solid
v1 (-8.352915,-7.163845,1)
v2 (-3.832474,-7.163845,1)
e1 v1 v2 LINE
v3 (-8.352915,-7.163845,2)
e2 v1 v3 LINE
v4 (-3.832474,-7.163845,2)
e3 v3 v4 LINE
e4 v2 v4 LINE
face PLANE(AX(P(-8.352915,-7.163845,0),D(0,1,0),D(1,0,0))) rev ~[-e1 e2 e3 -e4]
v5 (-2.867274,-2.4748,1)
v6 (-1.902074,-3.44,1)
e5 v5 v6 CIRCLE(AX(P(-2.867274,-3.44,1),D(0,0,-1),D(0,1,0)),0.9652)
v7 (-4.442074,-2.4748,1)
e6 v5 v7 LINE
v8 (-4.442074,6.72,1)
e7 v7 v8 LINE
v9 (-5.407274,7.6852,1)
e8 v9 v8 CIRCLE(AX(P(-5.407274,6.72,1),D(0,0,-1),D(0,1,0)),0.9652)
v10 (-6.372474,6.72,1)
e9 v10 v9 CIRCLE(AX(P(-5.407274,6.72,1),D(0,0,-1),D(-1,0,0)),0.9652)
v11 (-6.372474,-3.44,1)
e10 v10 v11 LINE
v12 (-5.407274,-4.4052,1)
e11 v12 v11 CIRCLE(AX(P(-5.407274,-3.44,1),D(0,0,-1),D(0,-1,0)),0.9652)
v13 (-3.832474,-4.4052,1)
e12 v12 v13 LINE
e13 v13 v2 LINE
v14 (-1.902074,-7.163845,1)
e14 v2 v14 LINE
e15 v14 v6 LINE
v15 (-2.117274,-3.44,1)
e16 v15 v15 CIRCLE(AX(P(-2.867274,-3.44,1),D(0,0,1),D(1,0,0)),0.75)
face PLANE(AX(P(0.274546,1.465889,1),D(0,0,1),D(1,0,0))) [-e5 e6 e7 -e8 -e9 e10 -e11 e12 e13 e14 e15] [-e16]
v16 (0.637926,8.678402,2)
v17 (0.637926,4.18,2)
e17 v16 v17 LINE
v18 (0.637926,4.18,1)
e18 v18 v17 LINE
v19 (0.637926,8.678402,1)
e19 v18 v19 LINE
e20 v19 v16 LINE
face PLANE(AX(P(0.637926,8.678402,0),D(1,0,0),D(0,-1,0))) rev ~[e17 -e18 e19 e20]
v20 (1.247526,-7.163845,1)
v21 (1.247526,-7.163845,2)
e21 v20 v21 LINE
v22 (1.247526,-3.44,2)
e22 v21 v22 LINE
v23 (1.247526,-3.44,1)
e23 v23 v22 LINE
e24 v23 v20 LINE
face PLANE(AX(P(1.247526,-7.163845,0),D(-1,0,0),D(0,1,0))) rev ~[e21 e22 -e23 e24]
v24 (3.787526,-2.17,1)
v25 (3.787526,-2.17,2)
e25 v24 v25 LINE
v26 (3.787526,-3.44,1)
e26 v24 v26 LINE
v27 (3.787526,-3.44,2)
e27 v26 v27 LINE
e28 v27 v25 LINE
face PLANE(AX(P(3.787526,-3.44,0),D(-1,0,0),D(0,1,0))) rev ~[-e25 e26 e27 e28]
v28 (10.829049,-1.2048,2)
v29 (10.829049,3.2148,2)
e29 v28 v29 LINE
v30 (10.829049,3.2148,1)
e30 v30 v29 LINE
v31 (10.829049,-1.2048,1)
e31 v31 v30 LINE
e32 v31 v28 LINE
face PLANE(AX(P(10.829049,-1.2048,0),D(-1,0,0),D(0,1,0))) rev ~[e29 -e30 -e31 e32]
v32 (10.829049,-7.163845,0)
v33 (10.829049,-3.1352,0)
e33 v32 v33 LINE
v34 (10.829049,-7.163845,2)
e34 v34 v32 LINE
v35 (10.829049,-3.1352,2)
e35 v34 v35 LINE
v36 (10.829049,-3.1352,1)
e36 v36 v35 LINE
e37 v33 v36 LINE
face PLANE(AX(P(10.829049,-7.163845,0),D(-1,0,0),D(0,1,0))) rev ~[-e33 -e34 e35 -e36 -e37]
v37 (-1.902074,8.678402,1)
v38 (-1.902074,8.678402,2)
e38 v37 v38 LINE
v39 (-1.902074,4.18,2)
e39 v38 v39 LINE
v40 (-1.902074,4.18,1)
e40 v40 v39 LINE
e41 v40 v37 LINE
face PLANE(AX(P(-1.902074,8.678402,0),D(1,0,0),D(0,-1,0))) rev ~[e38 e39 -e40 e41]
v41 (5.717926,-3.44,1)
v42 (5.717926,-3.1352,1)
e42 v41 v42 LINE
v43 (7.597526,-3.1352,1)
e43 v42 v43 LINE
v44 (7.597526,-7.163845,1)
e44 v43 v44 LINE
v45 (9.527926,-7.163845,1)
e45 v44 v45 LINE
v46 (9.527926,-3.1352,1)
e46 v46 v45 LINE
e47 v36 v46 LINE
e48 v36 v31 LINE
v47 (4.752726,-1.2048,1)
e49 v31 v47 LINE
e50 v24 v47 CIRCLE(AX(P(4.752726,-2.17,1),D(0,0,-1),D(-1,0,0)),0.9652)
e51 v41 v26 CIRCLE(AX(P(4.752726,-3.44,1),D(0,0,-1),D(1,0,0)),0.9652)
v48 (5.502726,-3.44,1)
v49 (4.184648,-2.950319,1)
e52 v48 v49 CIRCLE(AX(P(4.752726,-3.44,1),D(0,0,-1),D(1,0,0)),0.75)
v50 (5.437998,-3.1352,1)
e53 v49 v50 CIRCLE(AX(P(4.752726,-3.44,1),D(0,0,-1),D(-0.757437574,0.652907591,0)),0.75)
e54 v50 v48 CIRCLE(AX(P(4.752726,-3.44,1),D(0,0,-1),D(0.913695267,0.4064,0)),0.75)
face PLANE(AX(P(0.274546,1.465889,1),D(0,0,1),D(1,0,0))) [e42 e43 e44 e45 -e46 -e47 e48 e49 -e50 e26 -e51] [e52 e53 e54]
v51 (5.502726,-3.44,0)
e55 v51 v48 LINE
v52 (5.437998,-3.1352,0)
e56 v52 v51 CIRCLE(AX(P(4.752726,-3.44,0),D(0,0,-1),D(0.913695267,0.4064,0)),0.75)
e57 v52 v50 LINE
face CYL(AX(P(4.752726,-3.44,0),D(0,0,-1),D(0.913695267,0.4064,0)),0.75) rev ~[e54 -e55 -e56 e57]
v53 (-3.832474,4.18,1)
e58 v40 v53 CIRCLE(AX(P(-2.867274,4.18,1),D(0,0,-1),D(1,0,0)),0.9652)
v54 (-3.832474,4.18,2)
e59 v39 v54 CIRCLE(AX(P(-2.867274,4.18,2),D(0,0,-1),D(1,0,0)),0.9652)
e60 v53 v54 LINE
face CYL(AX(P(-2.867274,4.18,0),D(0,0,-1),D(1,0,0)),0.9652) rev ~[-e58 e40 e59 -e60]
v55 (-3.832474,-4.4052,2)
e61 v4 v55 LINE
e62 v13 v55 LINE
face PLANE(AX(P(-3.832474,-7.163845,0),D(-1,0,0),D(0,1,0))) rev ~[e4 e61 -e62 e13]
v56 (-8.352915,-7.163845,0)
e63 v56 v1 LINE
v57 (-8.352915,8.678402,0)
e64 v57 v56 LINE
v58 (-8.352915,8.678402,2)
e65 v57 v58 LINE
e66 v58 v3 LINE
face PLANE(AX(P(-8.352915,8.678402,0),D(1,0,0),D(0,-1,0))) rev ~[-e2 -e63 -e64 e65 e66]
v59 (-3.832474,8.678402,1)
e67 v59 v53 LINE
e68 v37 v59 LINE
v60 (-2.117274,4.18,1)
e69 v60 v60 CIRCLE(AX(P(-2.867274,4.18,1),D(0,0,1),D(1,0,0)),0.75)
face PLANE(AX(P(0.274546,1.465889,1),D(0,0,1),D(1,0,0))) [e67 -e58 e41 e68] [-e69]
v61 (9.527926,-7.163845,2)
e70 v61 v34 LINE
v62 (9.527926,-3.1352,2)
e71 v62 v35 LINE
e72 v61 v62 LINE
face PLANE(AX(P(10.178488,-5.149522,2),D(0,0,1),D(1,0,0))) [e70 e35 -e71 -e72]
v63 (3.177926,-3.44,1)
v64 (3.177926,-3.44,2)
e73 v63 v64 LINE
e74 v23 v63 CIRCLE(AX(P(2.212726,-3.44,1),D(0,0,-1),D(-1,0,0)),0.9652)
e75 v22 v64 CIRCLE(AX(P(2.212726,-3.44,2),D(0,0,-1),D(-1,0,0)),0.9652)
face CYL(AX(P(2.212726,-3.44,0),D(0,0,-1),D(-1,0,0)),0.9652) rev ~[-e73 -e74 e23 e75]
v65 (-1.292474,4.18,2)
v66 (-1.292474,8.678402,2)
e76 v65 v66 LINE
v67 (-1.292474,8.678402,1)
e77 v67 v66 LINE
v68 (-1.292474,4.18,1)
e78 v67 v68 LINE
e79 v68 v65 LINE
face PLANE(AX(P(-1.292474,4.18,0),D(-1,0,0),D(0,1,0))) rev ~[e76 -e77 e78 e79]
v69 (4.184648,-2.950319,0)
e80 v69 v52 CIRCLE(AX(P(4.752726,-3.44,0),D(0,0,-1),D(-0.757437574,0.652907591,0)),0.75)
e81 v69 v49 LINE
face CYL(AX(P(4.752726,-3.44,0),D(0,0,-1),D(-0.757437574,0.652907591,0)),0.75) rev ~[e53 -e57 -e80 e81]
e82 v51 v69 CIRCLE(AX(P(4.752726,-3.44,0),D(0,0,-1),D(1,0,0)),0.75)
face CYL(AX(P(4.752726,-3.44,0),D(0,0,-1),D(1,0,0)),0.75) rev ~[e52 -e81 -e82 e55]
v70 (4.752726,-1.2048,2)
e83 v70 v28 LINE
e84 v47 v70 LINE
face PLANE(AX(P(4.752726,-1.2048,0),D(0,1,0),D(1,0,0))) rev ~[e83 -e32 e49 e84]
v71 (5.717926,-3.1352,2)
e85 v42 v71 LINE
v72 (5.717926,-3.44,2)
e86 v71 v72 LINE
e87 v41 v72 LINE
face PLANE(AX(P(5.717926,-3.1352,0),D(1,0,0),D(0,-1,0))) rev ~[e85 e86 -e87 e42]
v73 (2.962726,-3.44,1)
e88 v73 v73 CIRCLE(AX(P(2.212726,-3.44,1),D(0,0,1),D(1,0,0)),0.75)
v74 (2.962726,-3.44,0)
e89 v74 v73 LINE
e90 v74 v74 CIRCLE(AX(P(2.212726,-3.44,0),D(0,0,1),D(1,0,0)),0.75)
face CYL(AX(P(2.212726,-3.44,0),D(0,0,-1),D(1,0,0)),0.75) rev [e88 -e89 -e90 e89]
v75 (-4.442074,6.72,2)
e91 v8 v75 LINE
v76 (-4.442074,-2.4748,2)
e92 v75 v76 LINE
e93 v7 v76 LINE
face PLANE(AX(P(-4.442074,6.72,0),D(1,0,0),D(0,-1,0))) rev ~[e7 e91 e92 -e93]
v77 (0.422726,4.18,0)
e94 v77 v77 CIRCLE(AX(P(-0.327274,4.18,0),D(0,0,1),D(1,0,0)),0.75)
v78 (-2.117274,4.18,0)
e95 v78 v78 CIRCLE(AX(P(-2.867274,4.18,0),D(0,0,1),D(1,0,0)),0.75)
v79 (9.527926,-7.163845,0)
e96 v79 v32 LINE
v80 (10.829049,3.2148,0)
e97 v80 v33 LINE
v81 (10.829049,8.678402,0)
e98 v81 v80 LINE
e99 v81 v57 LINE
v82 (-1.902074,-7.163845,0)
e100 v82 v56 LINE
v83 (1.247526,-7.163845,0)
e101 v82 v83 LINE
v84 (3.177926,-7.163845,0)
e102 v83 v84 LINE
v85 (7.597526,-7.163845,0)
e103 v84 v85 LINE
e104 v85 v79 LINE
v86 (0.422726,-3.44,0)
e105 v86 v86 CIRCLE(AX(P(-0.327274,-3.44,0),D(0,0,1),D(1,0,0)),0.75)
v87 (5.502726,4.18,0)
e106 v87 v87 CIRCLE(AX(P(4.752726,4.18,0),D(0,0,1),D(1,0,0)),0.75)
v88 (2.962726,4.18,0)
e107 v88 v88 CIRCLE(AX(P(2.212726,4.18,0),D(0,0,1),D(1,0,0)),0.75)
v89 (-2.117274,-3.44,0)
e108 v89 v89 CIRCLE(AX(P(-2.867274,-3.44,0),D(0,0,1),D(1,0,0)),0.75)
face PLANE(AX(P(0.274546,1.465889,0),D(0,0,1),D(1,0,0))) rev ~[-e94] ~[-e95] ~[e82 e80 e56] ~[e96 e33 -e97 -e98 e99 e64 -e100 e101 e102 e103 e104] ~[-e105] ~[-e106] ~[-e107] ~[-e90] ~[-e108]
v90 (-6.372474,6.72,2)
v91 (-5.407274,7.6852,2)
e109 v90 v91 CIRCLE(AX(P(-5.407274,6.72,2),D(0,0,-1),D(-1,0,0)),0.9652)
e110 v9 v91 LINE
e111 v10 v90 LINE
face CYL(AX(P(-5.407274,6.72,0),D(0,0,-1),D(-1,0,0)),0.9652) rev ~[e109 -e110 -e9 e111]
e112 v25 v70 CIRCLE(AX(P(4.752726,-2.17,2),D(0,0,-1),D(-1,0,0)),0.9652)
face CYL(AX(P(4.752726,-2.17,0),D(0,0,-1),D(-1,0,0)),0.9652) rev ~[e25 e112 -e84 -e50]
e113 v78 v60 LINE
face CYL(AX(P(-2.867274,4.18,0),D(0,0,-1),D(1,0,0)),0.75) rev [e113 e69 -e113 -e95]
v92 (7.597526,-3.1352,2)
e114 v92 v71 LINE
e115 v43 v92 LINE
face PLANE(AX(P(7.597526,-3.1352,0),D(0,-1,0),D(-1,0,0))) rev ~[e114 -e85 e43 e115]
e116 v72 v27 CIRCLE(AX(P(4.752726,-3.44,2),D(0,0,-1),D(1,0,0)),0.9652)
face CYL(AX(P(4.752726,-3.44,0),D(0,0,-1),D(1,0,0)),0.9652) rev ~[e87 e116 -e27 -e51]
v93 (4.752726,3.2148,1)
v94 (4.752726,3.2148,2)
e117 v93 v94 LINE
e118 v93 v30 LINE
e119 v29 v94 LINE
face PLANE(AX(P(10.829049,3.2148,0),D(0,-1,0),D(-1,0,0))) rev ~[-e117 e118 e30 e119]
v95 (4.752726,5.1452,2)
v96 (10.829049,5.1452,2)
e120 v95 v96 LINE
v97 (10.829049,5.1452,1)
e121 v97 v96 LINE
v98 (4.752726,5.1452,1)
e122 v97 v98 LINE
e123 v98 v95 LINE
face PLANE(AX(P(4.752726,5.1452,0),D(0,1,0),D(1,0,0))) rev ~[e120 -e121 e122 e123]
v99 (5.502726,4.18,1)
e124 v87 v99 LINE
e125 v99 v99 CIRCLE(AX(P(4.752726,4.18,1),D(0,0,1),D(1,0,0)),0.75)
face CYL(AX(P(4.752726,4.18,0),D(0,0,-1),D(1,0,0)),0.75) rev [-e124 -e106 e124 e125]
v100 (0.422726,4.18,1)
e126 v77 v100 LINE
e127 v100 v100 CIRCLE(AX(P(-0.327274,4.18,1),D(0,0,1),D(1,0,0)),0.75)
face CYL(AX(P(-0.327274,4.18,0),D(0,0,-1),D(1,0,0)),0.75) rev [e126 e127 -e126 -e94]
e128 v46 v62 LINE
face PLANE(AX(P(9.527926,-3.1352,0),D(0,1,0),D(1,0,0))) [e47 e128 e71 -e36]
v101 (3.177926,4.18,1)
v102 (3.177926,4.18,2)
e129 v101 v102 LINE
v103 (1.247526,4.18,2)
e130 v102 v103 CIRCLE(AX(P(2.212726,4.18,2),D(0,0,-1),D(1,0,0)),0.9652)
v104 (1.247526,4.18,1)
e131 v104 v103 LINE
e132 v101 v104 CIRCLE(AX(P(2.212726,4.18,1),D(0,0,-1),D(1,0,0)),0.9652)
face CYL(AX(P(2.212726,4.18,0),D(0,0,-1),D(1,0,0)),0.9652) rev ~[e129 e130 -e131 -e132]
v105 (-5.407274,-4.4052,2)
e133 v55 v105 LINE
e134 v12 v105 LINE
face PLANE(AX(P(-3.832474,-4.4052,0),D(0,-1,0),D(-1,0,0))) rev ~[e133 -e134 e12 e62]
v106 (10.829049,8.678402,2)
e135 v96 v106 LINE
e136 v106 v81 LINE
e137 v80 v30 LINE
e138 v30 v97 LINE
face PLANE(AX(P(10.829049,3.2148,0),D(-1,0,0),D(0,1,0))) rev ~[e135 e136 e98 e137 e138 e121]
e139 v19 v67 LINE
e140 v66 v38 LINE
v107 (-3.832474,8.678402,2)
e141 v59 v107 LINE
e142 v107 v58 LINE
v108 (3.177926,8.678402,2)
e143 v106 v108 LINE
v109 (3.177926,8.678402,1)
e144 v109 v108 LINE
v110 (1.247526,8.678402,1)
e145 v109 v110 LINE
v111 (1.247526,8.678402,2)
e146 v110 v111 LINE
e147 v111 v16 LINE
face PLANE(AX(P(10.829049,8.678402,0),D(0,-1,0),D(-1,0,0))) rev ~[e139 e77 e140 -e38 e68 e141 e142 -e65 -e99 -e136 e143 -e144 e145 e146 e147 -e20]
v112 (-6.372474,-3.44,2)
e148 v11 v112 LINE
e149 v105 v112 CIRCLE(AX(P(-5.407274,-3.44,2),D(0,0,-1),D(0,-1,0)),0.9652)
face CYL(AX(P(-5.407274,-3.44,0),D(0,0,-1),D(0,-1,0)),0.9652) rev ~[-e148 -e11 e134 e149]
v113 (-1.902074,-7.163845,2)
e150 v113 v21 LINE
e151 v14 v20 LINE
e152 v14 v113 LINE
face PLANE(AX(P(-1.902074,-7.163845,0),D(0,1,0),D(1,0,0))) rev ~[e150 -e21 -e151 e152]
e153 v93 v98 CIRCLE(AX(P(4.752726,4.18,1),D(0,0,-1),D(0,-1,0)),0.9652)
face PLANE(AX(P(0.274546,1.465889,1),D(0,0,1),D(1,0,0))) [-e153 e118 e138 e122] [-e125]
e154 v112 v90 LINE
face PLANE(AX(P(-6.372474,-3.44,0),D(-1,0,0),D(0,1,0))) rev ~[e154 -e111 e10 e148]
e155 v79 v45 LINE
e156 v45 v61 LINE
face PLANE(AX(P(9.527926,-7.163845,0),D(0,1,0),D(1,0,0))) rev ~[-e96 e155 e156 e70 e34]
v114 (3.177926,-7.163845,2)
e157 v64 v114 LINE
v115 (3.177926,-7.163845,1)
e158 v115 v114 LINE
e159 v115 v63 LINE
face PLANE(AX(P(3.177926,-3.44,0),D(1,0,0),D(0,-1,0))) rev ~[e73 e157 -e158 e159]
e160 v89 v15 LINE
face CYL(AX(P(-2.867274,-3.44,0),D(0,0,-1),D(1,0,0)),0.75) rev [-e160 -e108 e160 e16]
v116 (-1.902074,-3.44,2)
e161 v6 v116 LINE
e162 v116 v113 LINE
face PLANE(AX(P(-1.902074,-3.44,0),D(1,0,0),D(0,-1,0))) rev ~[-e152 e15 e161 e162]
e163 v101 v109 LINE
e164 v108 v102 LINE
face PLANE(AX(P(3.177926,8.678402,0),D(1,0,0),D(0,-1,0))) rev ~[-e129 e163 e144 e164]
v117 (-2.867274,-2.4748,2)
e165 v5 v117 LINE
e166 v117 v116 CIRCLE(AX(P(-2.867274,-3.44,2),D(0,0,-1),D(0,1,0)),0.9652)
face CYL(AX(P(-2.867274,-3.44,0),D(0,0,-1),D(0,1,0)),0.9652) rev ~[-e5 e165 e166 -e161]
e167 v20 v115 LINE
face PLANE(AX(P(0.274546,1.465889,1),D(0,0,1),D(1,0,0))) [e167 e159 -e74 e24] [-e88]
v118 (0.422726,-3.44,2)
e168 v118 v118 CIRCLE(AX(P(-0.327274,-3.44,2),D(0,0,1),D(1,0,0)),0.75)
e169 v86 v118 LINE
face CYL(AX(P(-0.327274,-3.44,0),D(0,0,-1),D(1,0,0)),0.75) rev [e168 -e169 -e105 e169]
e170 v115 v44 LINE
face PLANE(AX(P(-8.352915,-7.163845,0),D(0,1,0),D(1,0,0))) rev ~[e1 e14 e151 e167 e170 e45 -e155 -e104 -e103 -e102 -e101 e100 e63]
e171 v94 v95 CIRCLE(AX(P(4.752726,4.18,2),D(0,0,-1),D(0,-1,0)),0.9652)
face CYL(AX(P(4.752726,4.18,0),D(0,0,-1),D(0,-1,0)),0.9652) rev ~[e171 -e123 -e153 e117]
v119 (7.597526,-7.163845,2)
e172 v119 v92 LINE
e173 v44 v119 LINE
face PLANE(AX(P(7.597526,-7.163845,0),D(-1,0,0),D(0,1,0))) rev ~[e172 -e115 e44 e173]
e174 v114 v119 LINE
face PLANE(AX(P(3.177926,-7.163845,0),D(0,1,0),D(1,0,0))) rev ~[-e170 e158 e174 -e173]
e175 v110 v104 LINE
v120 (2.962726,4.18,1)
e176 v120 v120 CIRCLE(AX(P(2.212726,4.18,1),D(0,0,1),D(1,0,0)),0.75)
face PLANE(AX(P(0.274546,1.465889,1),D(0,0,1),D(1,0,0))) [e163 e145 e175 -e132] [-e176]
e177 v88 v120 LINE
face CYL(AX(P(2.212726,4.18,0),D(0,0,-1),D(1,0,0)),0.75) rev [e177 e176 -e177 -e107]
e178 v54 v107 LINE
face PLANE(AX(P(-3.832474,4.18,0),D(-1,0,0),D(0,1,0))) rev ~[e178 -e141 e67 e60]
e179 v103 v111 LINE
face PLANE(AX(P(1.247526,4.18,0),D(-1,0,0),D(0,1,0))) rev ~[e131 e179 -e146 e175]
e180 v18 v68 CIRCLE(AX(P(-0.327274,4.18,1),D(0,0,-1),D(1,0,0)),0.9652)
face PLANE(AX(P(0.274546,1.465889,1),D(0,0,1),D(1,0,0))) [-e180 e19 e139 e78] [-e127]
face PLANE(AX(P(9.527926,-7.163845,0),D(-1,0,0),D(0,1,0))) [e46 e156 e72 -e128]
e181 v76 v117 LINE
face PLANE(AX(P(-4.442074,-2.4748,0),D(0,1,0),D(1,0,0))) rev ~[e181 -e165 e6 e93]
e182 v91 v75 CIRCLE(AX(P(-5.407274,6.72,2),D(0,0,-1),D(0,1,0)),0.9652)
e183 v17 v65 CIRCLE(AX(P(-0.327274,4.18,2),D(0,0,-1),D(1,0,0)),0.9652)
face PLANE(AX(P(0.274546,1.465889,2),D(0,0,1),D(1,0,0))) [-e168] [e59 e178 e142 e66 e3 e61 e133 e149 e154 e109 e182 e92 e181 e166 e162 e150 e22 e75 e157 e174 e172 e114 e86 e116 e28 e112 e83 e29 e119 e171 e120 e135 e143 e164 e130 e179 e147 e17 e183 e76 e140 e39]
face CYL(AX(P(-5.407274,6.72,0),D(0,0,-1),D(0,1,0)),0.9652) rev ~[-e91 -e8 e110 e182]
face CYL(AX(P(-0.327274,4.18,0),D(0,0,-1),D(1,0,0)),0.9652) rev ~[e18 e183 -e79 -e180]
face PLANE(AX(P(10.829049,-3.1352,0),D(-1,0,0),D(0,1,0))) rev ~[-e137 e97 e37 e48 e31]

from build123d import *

# Parameters (mm, degrees)
F0_R     = 0.75
F0_W     = 1.3011230478
F0_H     = 4.0286443567
F1_DEPTH = 1
F2_DEPTH = 2


with BuildPart() as f1:
    # F0 (on Top) → F1 (new body)
    with BuildSketch(Plane.XY):
        with BuildLine():
            Line((-3.8324738853, 4.1799998197), (-3.8324738853, 8.6784018204))
            Line((-3.8324738853, 8.6784018204), (-8.3529148251, 8.6784018204))
            Line((-8.3529148251, 8.6784018204), (-8.3529148251, -7.163844537))
            Line((-8.3529148251, -7.163844537), (-3.8324738853, -7.163844537))
            Line((-3.8324738853, -7.163844537), (-3.8324738853, -4.4052001803))
            Line((-3.8324738853, -4.4052001803), (-5.4072738853, -4.4052001803))
            ThreePointArc((-5.4072738853, -4.4052001803), (-6.0897733505, -4.1224996455), (-6.3724738853, -3.4400001803))
            Line((-6.3724738853, -3.4400001803), (-6.3724738853, 6.7199998197))
            ThreePointArc((-6.3724738853, 6.7199998197), (-6.0897733505, 7.4024992849), (-5.4072738853, 7.6851998197))
            ThreePointArc((-5.4072738853, 7.6851998197), (-4.7247744201, 7.4024992849), (-4.4420738853, 6.7199998197))
            Line((-4.4420738853, 6.7199998197), (-4.4420738853, -2.4748001803))
            Line((-4.4420738853, -2.4748001803), (-2.8672738853, -2.4748001803))
            ThreePointArc((-2.8672738853, -2.4748001803), (-2.1847744201, -2.7575007151), (-1.9020738853, -3.4400001803))
            Line((-1.9020738853, -3.4400001803), (-1.9020738853, -7.163844537))
            Line((-1.9020738853, -7.163844537), (1.2475261147, -7.163844537))
            Line((1.2475261147, -7.163844537), (1.2475261147, -3.4400001803))
            ThreePointArc((1.2475261147, -3.4400001803), (2.2127261147, -2.4748001803), (3.1779261147, -3.4400001803))
            Line((3.1779261147, -3.4400001803), (3.1779261147, -7.163844537))
            Line((3.1779261147, -7.163844537), (7.5975261147, -7.163844537))
            Line((7.5975261147, -7.163844537), (7.5975261147, -3.1352001803))
            Line((7.5975261147, -3.1352001803), (5.7179261147, -3.1352001803))
            Line((5.7179261147, -3.1352001803), (5.7179261147, -3.4400001803))
            ThreePointArc((5.7179261147, -3.4400001803), (4.7527261147, -4.4052001803), (3.7875261147, -3.4400001803))
            Line((3.7875261147, -3.4400001803), (3.7875261147, -2.1700001803))
            ThreePointArc((3.7875261147, -2.1700001803), (4.0702266495, -1.4875007151), (4.7527261147, -1.2048001803))
            Line((4.7527261147, -1.2048001803), (8.5627261147, -1.2048001803))
            Line((8.5627261147, -1.2048001803), (10.8290491626, -1.2048001803))
            Line((10.8290491626, -1.2048001803), (10.8290491626, 3.2147998197))
            Line((10.8290491626, 3.2147998197), (4.7527261147, 3.2147998197))
            ThreePointArc((4.7527261147, 3.2147998197), (3.7875261147, 4.1799998197), (4.7527261147, 5.1451998197))
            Line((4.7527261147, 5.1451998197), (10.8290491626, 5.1451998197))
            Line((10.8290491626, 5.1451998197), (10.8290491626, 8.6784018204))
            Line((10.8290491626, 8.6784018204), (3.1779261147, 8.6784018204))
            Line((3.1779261147, 8.6784018204), (3.1779261147, 4.1799998197))
            ThreePointArc((3.1779261147, 4.1799998197), (2.2127261147, 3.2147998197), (1.2475261147, 4.1799998197))
            Line((1.2475261147, 4.1799998197), (1.2475261147, 8.6784018204))
            Line((1.2475261147, 8.6784018204), (0.6379261147, 8.6784018204))
            Line((0.6379261147, 8.6784018204), (0.6379261147, 4.1799998197))
            ThreePointArc((0.6379261147, 4.1799998197), (-0.3272738853, 3.2147998197), (-1.2924738853, 4.1799998197))
            Line((-1.2924738853, 4.1799998197), (-1.2924738853, 8.6784018204))
            Line((-1.2924738853, 8.6784018204), (-1.9020738853, 8.6784018204))
            Line((-1.9020738853, 8.6784018204), (-1.9020738853, 4.1799998197))
            ThreePointArc((-1.9020738853, 4.1799998197), (-2.8672738853, 3.2147998197), (-3.8324738853, 4.1799998197))
        make_face()
        with Locations((-0.3272738853, -3.4400001803)):
            Circle(F0_R, mode=Mode.SUBTRACT)
        with Locations((10.1784876386, -5.1495223586)):
            Rectangle(F0_W, F0_H)
        with BuildLine():
            Line((-6.3724738853, 6.7199998197), (-6.3724738853, -3.4400001803))
            ThreePointArc((-6.3724738853, -3.4400001803), (-6.0897733505, -2.7575007151), (-5.4072738853, -2.4748001803))
            Line((-5.4072738853, -2.4748001803), (-4.4420738853, -2.4748001803))
            Line((-4.4420738853, -2.4748001803), (-4.4420738853, 6.7199998197))
            ThreePointArc((-4.4420738853, 6.7199998197), (-4.7247744201, 7.4024992849), (-5.4072738853, 7.6851998197))
            ThreePointArc((-5.4072738853, 7.6851998197), (-6.0897733505, 7.4024992849), (-6.3724738853, 6.7199998197))
        make_face()
        with BuildLine():
            ThreePointArc((-6.3724738853, -3.4400001803), (-6.0897733505, -4.1224996455), (-5.4072738853, -4.4052001803))
            ThreePointArc((-5.4072738853, -4.4052001803), (-4.7247744201, -4.1224996455), (-4.4420738853, -3.4400001803))
            Line((-4.4420738853, -3.4400001803), (-4.4420738853, -2.4748001803))
            Line((-4.4420738853, -2.4748001803), (-5.4072738853, -2.4748001803))
            ThreePointArc((-5.4072738853, -2.4748001803), (-6.0897733505, -2.7575007151), (-6.3724738853, -3.4400001803))
        make_face()
        with BuildLine():
            Line((-5.4072738853, -4.4052001803), (-3.8324738853, -4.4052001803))
            Line((-3.8324738853, -4.4052001803), (-3.8324738853, -3.4400001803))
            ThreePointArc((-3.8324738853, -3.4400001803), (-3.5497733505, -2.7575007151), (-2.8672738853, -2.4748001803))
            Line((-2.8672738853, -2.4748001803), (-4.4420738853, -2.4748001803))
            Line((-4.4420738853, -2.4748001803), (-4.4420738853, -3.4400001803))
            ThreePointArc((-4.4420738853, -3.4400001803), (-4.7247744201, -4.1224996455), (-5.4072738853, -4.4052001803))
        make_face()
        with BuildLine():
            Line((-3.8324738853, -3.4400001803), (-3.8324738853, -4.4052001803))
            Line((-3.8324738853, -4.4052001803), (-2.8672738853, -4.4052001803))
            ThreePointArc((-2.8672738853, -4.4052001803), (-2.1847744201, -4.1224996455), (-1.9020738853, -3.4400001803))
            ThreePointArc((-1.9020738853, -3.4400001803), (-2.1847744201, -2.7575007151), (-2.8672738853, -2.4748001803))
            ThreePointArc((-2.8672738853, -2.4748001803), (-3.5497733505, -2.7575007151), (-3.8324738853, -3.4400001803))
        make_face()
        with Locations((-2.8672738853, -3.4400001803)):
            Circle(F0_R, mode=Mode.SUBTRACT)
        with BuildLine():
            Line((-3.8324738853, -4.4052001803), (-3.8324738853, -7.163844537))
            Line((-3.8324738853, -7.163844537), (-1.9020738853, -7.163844537))
            Line((-1.9020738853, -7.163844537), (-1.9020738853, -3.4400001803))
            ThreePointArc((-1.9020738853, -3.4400001803), (-2.1847744201, -4.1224996455), (-2.8672738853, -4.4052001803))
            Line((-2.8672738853, -4.4052001803), (-3.8324738853, -4.4052001803))
        make_face()
        with BuildLine():
            Line((1.2475261147, -3.4400001803), (1.2475261147, -7.163844537))
            Line((1.2475261147, -7.163844537), (3.1779261147, -7.163844537))
            Line((3.1779261147, -7.163844537), (3.1779261147, -3.4400001803))
            ThreePointArc((3.1779261147, -3.4400001803), (2.2127261147, -2.4748001803), (1.2475261147, -3.4400001803))
        make_face()
        with Locations((2.2127261147, -3.4400001803)):
            Circle(F0_R, mode=Mode.SUBTRACT)
        with BuildLine():
            Line((5.4379975646, -3.1352001803), (5.7179261147, -3.1352001803))
            Line((5.7179261147, -3.1352001803), (5.7179261147, -2.1700001803))
            ThreePointArc((5.7179261147, -2.1700001803), (5.4352255799, -1.4875007151), (4.7527261147, -1.2048001803))
            ThreePointArc((4.7527261147, -1.2048001803), (4.0702266495, -1.4875007151), (3.7875261147, -2.1700001803))
            ThreePointArc((3.7875261147, -2.1700001803), (3.8925168089, -2.607779794), (4.1846479344, -2.9503194874))
            ThreePointArc((4.1846479344, -2.9503194874), (4.8621737427, -2.6980290106), (5.4379975646, -3.1352001803))
        make_face()
        with BuildLine():
            Line((5.7179261147, -3.4400001803), (5.7179261147, -3.1352001803))
            Line((5.7179261147, -3.1352001803), (5.4379975646, -3.1352001803))
            ThreePointArc((5.4379975646, -3.1352001803), (5.4863655314, -3.2842015722), (5.5027261147, -3.4400001803))
            ThreePointArc((5.5027261147, -3.4400001803), (4.4915352221, -4.1430501911), (4.1846479344, -2.9503194874))
            ThreePointArc((4.1846479344, -2.9503194874), (3.8925168089, -2.607779794), (3.7875261147, -2.1700001803))
            Line((3.7875261147, -2.1700001803), (3.7875261147, -3.4400001803))
            ThreePointArc((3.7875261147, -3.4400001803), (4.7527261147, -4.4052001803), (5.7179261147, -3.4400001803))
        make_face()
        with BuildLine():
            Line((5.7179261147, -3.1352001803), (7.5975261147, -3.1352001803))
            Line((7.5975261147, -3.1352001803), (7.5975261147, -2.1700001803))
            ThreePointArc((7.5975261147, -2.1700001803), (7.8802266495, -1.4875007151), (8.5627261147, -1.2048001803))
            Line((8.5627261147, -1.2048001803), (4.7527261147, -1.2048001803))
            ThreePointArc((4.7527261147, -1.2048001803), (5.4352255799, -1.4875007151), (5.7179261147, -2.1700001803))
            Line((5.7179261147, -2.1700001803), (5.7179261147, -3.1352001803))
        make_face()
        with BuildLine():
            Line((9.5279261147, -2.1700001803), (9.5279261147, -3.1352001803))
            Line((9.5279261147, -3.1352001803), (10.8290491626, -3.1352001803))
            Line((10.8290491626, -3.1352001803), (10.8290491626, -1.2048001803))
            Line((10.8290491626, -1.2048001803), (8.5627261147, -1.2048001803))
            ThreePointArc((8.5627261147, -1.2048001803), (9.2452255799, -1.4875007151), (9.5279261147, -2.1700001803))
        make_face()
        with BuildLine():
            ThreePointArc((7.5975261147, -2.1700001803), (7.8802266495, -2.8524996455), (8.5627261147, -3.1352001803))
            ThreePointArc((8.5627261147, -3.1352001803), (9.2452255799, -2.8524996455), (9.5279261147, -2.1700001803))
            ThreePointArc((9.5279261147, -2.1700001803), (9.2452255799, -1.4875007151), (8.5627261147, -1.2048001803))
            ThreePointArc((8.5627261147, -1.2048001803), (7.8802266495, -1.4875007151), (7.5975261147, -2.1700001803))
        make_face()
        Polygon((7.5975261147, -3.1352001803), (7.5975261147, -7.163844537), (9.5279261147, -7.163844537), (9.5279261147, -3.1352001803), (8.5627261147, -3.1352001803), align=None)
        with BuildLine():
            Line((7.5975261147, -2.1700001803), (7.5975261147, -3.1352001803))
            Line((7.5975261147, -3.1352001803), (8.5627261147, -3.1352001803))
            ThreePointArc((8.5627261147, -3.1352001803), (7.8802266495, -2.8524996455), (7.5975261147, -2.1700001803))
        make_face()
        with BuildLine():
            ThreePointArc((9.5279261147, -2.1700001803), (9.2452255799, -2.8524996455), (8.5627261147, -3.1352001803))
            Line((8.5627261147, -3.1352001803), (9.5279261147, -3.1352001803))
            Line((9.5279261147, -3.1352001803), (9.5279261147, -2.1700001803))
        make_face()
        with BuildLine():
            Line((10.8290491626, 3.2147998197), (10.8290491626, 5.1451998197))
            Line((10.8290491626, 5.1451998197), (4.7527261147, 5.1451998197))
            ThreePointArc((4.7527261147, 5.1451998197), (3.7875261147, 4.1799998197), (4.7527261147, 3.2147998197))
            Line((4.7527261147, 3.2147998197), (10.8290491626, 3.2147998197))
        make_face()
        with Locations((4.7527261147, 4.1799998197)):
            Circle(F0_R, mode=Mode.SUBTRACT)
        with BuildLine():
            Line((3.1779261147, 8.6784018204), (1.2475261147, 8.6784018204))
            Line((1.2475261147, 8.6784018204), (1.2475261147, 4.1799998197))
            ThreePointArc((1.2475261147, 4.1799998197), (2.2127261147, 3.2147998197), (3.1779261147, 4.1799998197))
            Line((3.1779261147, 4.1799998197), (3.1779261147, 8.6784018204))
        make_face()
        with Locations((2.2127261147, 4.1799998197)):
            Circle(F0_R, mode=Mode.SUBTRACT)
        with BuildLine():
            Line((0.6379261147, 8.6784018204), (-1.2924738853, 8.6784018204))
            Line((-1.2924738853, 8.6784018204), (-1.2924738853, 4.1799998197))
            ThreePointArc((-1.2924738853, 4.1799998197), (-0.3272738853, 3.2147998197), (0.6379261147, 4.1799998197))
            Line((0.6379261147, 4.1799998197), (0.6379261147, 8.6784018204))
        make_face()
        with Locations((-0.3272738853, 4.1799998197)):
            Circle(F0_R, mode=Mode.SUBTRACT)
        with BuildLine():
            Line((-1.9020738853, 8.6784018204), (-3.8324738853, 8.6784018204))
            Line((-3.8324738853, 8.6784018204), (-3.8324738853, 4.1799998197))
            ThreePointArc((-3.8324738853, 4.1799998197), (-2.8672738853, 3.2147998197), (-1.9020738853, 4.1799998197))
            Line((-1.9020738853, 4.1799998197), (-1.9020738853, 8.6784018204))
        make_face()
        with Locations((-2.8672738853, 4.1799998197)):
            Circle(F0_R, mode=Mode.SUBTRACT)
    extrude(amount=F1_DEPTH)

    # F0 (on Top) → F2 (join)
    with BuildSketch(Plane.XY):
        with BuildLine():
            Line((-3.8324738853, 4.1799998197), (-3.8324738853, 8.6784018204))
            Line((-3.8324738853, 8.6784018204), (-8.3529148251, 8.6784018204))
            Line((-8.3529148251, 8.6784018204), (-8.3529148251, -7.163844537))
            Line((-8.3529148251, -7.163844537), (-3.8324738853, -7.163844537))
            Line((-3.8324738853, -7.163844537), (-3.8324738853, -4.4052001803))
            Line((-3.8324738853, -4.4052001803), (-5.4072738853, -4.4052001803))
            ThreePointArc((-5.4072738853, -4.4052001803), (-6.0897733505, -4.1224996455), (-6.3724738853, -3.4400001803))
            Line((-6.3724738853, -3.4400001803), (-6.3724738853, 6.7199998197))
            ThreePointArc((-6.3724738853, 6.7199998197), (-6.0897733505, 7.4024992849), (-5.4072738853, 7.6851998197))
            ThreePointArc((-5.4072738853, 7.6851998197), (-4.7247744201, 7.4024992849), (-4.4420738853, 6.7199998197))
            Line((-4.4420738853, 6.7199998197), (-4.4420738853, -2.4748001803))
            Line((-4.4420738853, -2.4748001803), (-2.8672738853, -2.4748001803))
            ThreePointArc((-2.8672738853, -2.4748001803), (-2.1847744201, -2.7575007151), (-1.9020738853, -3.4400001803))
            Line((-1.9020738853, -3.4400001803), (-1.9020738853, -7.163844537))
            Line((-1.9020738853, -7.163844537), (1.2475261147, -7.163844537))
            Line((1.2475261147, -7.163844537), (1.2475261147, -3.4400001803))
            ThreePointArc((1.2475261147, -3.4400001803), (2.2127261147, -2.4748001803), (3.1779261147, -3.4400001803))
            Line((3.1779261147, -3.4400001803), (3.1779261147, -7.163844537))
            Line((3.1779261147, -7.163844537), (7.5975261147, -7.163844537))
            Line((7.5975261147, -7.163844537), (7.5975261147, -3.1352001803))
            Line((7.5975261147, -3.1352001803), (5.7179261147, -3.1352001803))
            Line((5.7179261147, -3.1352001803), (5.7179261147, -3.4400001803))
            ThreePointArc((5.7179261147, -3.4400001803), (4.7527261147, -4.4052001803), (3.7875261147, -3.4400001803))
            Line((3.7875261147, -3.4400001803), (3.7875261147, -2.1700001803))
            ThreePointArc((3.7875261147, -2.1700001803), (4.0702266495, -1.4875007151), (4.7527261147, -1.2048001803))
            Line((4.7527261147, -1.2048001803), (8.5627261147, -1.2048001803))
            Line((8.5627261147, -1.2048001803), (10.8290491626, -1.2048001803))
            Line((10.8290491626, -1.2048001803), (10.8290491626, 3.2147998197))
            Line((10.8290491626, 3.2147998197), (4.7527261147, 3.2147998197))
            ThreePointArc((4.7527261147, 3.2147998197), (3.7875261147, 4.1799998197), (4.7527261147, 5.1451998197))
            Line((4.7527261147, 5.1451998197), (10.8290491626, 5.1451998197))
            Line((10.8290491626, 5.1451998197), (10.8290491626, 8.6784018204))
            Line((10.8290491626, 8.6784018204), (3.1779261147, 8.6784018204))
            Line((3.1779261147, 8.6784018204), (3.1779261147, 4.1799998197))
            ThreePointArc((3.1779261147, 4.1799998197), (2.2127261147, 3.2147998197), (1.2475261147, 4.1799998197))
            Line((1.2475261147, 4.1799998197), (1.2475261147, 8.6784018204))
            Line((1.2475261147, 8.6784018204), (0.6379261147, 8.6784018204))
            Line((0.6379261147, 8.6784018204), (0.6379261147, 4.1799998197))
            ThreePointArc((0.6379261147, 4.1799998197), (-0.3272738853, 3.2147998197), (-1.2924738853, 4.1799998197))
            Line((-1.2924738853, 4.1799998197), (-1.2924738853, 8.6784018204))
            Line((-1.2924738853, 8.6784018204), (-1.9020738853, 8.6784018204))
            Line((-1.9020738853, 8.6784018204), (-1.9020738853, 4.1799998197))
            ThreePointArc((-1.9020738853, 4.1799998197), (-2.8672738853, 3.2147998197), (-3.8324738853, 4.1799998197))
        make_face()
        with Locations((-0.3272738853, -3.4400001803)):
            Circle(F0_R, mode=Mode.SUBTRACT)
        with Locations((10.1784876386, -5.1495223586)):
            Rectangle(F0_W, F0_H)
    extrude(amount=F2_DEPTH)


solid = f1.part
